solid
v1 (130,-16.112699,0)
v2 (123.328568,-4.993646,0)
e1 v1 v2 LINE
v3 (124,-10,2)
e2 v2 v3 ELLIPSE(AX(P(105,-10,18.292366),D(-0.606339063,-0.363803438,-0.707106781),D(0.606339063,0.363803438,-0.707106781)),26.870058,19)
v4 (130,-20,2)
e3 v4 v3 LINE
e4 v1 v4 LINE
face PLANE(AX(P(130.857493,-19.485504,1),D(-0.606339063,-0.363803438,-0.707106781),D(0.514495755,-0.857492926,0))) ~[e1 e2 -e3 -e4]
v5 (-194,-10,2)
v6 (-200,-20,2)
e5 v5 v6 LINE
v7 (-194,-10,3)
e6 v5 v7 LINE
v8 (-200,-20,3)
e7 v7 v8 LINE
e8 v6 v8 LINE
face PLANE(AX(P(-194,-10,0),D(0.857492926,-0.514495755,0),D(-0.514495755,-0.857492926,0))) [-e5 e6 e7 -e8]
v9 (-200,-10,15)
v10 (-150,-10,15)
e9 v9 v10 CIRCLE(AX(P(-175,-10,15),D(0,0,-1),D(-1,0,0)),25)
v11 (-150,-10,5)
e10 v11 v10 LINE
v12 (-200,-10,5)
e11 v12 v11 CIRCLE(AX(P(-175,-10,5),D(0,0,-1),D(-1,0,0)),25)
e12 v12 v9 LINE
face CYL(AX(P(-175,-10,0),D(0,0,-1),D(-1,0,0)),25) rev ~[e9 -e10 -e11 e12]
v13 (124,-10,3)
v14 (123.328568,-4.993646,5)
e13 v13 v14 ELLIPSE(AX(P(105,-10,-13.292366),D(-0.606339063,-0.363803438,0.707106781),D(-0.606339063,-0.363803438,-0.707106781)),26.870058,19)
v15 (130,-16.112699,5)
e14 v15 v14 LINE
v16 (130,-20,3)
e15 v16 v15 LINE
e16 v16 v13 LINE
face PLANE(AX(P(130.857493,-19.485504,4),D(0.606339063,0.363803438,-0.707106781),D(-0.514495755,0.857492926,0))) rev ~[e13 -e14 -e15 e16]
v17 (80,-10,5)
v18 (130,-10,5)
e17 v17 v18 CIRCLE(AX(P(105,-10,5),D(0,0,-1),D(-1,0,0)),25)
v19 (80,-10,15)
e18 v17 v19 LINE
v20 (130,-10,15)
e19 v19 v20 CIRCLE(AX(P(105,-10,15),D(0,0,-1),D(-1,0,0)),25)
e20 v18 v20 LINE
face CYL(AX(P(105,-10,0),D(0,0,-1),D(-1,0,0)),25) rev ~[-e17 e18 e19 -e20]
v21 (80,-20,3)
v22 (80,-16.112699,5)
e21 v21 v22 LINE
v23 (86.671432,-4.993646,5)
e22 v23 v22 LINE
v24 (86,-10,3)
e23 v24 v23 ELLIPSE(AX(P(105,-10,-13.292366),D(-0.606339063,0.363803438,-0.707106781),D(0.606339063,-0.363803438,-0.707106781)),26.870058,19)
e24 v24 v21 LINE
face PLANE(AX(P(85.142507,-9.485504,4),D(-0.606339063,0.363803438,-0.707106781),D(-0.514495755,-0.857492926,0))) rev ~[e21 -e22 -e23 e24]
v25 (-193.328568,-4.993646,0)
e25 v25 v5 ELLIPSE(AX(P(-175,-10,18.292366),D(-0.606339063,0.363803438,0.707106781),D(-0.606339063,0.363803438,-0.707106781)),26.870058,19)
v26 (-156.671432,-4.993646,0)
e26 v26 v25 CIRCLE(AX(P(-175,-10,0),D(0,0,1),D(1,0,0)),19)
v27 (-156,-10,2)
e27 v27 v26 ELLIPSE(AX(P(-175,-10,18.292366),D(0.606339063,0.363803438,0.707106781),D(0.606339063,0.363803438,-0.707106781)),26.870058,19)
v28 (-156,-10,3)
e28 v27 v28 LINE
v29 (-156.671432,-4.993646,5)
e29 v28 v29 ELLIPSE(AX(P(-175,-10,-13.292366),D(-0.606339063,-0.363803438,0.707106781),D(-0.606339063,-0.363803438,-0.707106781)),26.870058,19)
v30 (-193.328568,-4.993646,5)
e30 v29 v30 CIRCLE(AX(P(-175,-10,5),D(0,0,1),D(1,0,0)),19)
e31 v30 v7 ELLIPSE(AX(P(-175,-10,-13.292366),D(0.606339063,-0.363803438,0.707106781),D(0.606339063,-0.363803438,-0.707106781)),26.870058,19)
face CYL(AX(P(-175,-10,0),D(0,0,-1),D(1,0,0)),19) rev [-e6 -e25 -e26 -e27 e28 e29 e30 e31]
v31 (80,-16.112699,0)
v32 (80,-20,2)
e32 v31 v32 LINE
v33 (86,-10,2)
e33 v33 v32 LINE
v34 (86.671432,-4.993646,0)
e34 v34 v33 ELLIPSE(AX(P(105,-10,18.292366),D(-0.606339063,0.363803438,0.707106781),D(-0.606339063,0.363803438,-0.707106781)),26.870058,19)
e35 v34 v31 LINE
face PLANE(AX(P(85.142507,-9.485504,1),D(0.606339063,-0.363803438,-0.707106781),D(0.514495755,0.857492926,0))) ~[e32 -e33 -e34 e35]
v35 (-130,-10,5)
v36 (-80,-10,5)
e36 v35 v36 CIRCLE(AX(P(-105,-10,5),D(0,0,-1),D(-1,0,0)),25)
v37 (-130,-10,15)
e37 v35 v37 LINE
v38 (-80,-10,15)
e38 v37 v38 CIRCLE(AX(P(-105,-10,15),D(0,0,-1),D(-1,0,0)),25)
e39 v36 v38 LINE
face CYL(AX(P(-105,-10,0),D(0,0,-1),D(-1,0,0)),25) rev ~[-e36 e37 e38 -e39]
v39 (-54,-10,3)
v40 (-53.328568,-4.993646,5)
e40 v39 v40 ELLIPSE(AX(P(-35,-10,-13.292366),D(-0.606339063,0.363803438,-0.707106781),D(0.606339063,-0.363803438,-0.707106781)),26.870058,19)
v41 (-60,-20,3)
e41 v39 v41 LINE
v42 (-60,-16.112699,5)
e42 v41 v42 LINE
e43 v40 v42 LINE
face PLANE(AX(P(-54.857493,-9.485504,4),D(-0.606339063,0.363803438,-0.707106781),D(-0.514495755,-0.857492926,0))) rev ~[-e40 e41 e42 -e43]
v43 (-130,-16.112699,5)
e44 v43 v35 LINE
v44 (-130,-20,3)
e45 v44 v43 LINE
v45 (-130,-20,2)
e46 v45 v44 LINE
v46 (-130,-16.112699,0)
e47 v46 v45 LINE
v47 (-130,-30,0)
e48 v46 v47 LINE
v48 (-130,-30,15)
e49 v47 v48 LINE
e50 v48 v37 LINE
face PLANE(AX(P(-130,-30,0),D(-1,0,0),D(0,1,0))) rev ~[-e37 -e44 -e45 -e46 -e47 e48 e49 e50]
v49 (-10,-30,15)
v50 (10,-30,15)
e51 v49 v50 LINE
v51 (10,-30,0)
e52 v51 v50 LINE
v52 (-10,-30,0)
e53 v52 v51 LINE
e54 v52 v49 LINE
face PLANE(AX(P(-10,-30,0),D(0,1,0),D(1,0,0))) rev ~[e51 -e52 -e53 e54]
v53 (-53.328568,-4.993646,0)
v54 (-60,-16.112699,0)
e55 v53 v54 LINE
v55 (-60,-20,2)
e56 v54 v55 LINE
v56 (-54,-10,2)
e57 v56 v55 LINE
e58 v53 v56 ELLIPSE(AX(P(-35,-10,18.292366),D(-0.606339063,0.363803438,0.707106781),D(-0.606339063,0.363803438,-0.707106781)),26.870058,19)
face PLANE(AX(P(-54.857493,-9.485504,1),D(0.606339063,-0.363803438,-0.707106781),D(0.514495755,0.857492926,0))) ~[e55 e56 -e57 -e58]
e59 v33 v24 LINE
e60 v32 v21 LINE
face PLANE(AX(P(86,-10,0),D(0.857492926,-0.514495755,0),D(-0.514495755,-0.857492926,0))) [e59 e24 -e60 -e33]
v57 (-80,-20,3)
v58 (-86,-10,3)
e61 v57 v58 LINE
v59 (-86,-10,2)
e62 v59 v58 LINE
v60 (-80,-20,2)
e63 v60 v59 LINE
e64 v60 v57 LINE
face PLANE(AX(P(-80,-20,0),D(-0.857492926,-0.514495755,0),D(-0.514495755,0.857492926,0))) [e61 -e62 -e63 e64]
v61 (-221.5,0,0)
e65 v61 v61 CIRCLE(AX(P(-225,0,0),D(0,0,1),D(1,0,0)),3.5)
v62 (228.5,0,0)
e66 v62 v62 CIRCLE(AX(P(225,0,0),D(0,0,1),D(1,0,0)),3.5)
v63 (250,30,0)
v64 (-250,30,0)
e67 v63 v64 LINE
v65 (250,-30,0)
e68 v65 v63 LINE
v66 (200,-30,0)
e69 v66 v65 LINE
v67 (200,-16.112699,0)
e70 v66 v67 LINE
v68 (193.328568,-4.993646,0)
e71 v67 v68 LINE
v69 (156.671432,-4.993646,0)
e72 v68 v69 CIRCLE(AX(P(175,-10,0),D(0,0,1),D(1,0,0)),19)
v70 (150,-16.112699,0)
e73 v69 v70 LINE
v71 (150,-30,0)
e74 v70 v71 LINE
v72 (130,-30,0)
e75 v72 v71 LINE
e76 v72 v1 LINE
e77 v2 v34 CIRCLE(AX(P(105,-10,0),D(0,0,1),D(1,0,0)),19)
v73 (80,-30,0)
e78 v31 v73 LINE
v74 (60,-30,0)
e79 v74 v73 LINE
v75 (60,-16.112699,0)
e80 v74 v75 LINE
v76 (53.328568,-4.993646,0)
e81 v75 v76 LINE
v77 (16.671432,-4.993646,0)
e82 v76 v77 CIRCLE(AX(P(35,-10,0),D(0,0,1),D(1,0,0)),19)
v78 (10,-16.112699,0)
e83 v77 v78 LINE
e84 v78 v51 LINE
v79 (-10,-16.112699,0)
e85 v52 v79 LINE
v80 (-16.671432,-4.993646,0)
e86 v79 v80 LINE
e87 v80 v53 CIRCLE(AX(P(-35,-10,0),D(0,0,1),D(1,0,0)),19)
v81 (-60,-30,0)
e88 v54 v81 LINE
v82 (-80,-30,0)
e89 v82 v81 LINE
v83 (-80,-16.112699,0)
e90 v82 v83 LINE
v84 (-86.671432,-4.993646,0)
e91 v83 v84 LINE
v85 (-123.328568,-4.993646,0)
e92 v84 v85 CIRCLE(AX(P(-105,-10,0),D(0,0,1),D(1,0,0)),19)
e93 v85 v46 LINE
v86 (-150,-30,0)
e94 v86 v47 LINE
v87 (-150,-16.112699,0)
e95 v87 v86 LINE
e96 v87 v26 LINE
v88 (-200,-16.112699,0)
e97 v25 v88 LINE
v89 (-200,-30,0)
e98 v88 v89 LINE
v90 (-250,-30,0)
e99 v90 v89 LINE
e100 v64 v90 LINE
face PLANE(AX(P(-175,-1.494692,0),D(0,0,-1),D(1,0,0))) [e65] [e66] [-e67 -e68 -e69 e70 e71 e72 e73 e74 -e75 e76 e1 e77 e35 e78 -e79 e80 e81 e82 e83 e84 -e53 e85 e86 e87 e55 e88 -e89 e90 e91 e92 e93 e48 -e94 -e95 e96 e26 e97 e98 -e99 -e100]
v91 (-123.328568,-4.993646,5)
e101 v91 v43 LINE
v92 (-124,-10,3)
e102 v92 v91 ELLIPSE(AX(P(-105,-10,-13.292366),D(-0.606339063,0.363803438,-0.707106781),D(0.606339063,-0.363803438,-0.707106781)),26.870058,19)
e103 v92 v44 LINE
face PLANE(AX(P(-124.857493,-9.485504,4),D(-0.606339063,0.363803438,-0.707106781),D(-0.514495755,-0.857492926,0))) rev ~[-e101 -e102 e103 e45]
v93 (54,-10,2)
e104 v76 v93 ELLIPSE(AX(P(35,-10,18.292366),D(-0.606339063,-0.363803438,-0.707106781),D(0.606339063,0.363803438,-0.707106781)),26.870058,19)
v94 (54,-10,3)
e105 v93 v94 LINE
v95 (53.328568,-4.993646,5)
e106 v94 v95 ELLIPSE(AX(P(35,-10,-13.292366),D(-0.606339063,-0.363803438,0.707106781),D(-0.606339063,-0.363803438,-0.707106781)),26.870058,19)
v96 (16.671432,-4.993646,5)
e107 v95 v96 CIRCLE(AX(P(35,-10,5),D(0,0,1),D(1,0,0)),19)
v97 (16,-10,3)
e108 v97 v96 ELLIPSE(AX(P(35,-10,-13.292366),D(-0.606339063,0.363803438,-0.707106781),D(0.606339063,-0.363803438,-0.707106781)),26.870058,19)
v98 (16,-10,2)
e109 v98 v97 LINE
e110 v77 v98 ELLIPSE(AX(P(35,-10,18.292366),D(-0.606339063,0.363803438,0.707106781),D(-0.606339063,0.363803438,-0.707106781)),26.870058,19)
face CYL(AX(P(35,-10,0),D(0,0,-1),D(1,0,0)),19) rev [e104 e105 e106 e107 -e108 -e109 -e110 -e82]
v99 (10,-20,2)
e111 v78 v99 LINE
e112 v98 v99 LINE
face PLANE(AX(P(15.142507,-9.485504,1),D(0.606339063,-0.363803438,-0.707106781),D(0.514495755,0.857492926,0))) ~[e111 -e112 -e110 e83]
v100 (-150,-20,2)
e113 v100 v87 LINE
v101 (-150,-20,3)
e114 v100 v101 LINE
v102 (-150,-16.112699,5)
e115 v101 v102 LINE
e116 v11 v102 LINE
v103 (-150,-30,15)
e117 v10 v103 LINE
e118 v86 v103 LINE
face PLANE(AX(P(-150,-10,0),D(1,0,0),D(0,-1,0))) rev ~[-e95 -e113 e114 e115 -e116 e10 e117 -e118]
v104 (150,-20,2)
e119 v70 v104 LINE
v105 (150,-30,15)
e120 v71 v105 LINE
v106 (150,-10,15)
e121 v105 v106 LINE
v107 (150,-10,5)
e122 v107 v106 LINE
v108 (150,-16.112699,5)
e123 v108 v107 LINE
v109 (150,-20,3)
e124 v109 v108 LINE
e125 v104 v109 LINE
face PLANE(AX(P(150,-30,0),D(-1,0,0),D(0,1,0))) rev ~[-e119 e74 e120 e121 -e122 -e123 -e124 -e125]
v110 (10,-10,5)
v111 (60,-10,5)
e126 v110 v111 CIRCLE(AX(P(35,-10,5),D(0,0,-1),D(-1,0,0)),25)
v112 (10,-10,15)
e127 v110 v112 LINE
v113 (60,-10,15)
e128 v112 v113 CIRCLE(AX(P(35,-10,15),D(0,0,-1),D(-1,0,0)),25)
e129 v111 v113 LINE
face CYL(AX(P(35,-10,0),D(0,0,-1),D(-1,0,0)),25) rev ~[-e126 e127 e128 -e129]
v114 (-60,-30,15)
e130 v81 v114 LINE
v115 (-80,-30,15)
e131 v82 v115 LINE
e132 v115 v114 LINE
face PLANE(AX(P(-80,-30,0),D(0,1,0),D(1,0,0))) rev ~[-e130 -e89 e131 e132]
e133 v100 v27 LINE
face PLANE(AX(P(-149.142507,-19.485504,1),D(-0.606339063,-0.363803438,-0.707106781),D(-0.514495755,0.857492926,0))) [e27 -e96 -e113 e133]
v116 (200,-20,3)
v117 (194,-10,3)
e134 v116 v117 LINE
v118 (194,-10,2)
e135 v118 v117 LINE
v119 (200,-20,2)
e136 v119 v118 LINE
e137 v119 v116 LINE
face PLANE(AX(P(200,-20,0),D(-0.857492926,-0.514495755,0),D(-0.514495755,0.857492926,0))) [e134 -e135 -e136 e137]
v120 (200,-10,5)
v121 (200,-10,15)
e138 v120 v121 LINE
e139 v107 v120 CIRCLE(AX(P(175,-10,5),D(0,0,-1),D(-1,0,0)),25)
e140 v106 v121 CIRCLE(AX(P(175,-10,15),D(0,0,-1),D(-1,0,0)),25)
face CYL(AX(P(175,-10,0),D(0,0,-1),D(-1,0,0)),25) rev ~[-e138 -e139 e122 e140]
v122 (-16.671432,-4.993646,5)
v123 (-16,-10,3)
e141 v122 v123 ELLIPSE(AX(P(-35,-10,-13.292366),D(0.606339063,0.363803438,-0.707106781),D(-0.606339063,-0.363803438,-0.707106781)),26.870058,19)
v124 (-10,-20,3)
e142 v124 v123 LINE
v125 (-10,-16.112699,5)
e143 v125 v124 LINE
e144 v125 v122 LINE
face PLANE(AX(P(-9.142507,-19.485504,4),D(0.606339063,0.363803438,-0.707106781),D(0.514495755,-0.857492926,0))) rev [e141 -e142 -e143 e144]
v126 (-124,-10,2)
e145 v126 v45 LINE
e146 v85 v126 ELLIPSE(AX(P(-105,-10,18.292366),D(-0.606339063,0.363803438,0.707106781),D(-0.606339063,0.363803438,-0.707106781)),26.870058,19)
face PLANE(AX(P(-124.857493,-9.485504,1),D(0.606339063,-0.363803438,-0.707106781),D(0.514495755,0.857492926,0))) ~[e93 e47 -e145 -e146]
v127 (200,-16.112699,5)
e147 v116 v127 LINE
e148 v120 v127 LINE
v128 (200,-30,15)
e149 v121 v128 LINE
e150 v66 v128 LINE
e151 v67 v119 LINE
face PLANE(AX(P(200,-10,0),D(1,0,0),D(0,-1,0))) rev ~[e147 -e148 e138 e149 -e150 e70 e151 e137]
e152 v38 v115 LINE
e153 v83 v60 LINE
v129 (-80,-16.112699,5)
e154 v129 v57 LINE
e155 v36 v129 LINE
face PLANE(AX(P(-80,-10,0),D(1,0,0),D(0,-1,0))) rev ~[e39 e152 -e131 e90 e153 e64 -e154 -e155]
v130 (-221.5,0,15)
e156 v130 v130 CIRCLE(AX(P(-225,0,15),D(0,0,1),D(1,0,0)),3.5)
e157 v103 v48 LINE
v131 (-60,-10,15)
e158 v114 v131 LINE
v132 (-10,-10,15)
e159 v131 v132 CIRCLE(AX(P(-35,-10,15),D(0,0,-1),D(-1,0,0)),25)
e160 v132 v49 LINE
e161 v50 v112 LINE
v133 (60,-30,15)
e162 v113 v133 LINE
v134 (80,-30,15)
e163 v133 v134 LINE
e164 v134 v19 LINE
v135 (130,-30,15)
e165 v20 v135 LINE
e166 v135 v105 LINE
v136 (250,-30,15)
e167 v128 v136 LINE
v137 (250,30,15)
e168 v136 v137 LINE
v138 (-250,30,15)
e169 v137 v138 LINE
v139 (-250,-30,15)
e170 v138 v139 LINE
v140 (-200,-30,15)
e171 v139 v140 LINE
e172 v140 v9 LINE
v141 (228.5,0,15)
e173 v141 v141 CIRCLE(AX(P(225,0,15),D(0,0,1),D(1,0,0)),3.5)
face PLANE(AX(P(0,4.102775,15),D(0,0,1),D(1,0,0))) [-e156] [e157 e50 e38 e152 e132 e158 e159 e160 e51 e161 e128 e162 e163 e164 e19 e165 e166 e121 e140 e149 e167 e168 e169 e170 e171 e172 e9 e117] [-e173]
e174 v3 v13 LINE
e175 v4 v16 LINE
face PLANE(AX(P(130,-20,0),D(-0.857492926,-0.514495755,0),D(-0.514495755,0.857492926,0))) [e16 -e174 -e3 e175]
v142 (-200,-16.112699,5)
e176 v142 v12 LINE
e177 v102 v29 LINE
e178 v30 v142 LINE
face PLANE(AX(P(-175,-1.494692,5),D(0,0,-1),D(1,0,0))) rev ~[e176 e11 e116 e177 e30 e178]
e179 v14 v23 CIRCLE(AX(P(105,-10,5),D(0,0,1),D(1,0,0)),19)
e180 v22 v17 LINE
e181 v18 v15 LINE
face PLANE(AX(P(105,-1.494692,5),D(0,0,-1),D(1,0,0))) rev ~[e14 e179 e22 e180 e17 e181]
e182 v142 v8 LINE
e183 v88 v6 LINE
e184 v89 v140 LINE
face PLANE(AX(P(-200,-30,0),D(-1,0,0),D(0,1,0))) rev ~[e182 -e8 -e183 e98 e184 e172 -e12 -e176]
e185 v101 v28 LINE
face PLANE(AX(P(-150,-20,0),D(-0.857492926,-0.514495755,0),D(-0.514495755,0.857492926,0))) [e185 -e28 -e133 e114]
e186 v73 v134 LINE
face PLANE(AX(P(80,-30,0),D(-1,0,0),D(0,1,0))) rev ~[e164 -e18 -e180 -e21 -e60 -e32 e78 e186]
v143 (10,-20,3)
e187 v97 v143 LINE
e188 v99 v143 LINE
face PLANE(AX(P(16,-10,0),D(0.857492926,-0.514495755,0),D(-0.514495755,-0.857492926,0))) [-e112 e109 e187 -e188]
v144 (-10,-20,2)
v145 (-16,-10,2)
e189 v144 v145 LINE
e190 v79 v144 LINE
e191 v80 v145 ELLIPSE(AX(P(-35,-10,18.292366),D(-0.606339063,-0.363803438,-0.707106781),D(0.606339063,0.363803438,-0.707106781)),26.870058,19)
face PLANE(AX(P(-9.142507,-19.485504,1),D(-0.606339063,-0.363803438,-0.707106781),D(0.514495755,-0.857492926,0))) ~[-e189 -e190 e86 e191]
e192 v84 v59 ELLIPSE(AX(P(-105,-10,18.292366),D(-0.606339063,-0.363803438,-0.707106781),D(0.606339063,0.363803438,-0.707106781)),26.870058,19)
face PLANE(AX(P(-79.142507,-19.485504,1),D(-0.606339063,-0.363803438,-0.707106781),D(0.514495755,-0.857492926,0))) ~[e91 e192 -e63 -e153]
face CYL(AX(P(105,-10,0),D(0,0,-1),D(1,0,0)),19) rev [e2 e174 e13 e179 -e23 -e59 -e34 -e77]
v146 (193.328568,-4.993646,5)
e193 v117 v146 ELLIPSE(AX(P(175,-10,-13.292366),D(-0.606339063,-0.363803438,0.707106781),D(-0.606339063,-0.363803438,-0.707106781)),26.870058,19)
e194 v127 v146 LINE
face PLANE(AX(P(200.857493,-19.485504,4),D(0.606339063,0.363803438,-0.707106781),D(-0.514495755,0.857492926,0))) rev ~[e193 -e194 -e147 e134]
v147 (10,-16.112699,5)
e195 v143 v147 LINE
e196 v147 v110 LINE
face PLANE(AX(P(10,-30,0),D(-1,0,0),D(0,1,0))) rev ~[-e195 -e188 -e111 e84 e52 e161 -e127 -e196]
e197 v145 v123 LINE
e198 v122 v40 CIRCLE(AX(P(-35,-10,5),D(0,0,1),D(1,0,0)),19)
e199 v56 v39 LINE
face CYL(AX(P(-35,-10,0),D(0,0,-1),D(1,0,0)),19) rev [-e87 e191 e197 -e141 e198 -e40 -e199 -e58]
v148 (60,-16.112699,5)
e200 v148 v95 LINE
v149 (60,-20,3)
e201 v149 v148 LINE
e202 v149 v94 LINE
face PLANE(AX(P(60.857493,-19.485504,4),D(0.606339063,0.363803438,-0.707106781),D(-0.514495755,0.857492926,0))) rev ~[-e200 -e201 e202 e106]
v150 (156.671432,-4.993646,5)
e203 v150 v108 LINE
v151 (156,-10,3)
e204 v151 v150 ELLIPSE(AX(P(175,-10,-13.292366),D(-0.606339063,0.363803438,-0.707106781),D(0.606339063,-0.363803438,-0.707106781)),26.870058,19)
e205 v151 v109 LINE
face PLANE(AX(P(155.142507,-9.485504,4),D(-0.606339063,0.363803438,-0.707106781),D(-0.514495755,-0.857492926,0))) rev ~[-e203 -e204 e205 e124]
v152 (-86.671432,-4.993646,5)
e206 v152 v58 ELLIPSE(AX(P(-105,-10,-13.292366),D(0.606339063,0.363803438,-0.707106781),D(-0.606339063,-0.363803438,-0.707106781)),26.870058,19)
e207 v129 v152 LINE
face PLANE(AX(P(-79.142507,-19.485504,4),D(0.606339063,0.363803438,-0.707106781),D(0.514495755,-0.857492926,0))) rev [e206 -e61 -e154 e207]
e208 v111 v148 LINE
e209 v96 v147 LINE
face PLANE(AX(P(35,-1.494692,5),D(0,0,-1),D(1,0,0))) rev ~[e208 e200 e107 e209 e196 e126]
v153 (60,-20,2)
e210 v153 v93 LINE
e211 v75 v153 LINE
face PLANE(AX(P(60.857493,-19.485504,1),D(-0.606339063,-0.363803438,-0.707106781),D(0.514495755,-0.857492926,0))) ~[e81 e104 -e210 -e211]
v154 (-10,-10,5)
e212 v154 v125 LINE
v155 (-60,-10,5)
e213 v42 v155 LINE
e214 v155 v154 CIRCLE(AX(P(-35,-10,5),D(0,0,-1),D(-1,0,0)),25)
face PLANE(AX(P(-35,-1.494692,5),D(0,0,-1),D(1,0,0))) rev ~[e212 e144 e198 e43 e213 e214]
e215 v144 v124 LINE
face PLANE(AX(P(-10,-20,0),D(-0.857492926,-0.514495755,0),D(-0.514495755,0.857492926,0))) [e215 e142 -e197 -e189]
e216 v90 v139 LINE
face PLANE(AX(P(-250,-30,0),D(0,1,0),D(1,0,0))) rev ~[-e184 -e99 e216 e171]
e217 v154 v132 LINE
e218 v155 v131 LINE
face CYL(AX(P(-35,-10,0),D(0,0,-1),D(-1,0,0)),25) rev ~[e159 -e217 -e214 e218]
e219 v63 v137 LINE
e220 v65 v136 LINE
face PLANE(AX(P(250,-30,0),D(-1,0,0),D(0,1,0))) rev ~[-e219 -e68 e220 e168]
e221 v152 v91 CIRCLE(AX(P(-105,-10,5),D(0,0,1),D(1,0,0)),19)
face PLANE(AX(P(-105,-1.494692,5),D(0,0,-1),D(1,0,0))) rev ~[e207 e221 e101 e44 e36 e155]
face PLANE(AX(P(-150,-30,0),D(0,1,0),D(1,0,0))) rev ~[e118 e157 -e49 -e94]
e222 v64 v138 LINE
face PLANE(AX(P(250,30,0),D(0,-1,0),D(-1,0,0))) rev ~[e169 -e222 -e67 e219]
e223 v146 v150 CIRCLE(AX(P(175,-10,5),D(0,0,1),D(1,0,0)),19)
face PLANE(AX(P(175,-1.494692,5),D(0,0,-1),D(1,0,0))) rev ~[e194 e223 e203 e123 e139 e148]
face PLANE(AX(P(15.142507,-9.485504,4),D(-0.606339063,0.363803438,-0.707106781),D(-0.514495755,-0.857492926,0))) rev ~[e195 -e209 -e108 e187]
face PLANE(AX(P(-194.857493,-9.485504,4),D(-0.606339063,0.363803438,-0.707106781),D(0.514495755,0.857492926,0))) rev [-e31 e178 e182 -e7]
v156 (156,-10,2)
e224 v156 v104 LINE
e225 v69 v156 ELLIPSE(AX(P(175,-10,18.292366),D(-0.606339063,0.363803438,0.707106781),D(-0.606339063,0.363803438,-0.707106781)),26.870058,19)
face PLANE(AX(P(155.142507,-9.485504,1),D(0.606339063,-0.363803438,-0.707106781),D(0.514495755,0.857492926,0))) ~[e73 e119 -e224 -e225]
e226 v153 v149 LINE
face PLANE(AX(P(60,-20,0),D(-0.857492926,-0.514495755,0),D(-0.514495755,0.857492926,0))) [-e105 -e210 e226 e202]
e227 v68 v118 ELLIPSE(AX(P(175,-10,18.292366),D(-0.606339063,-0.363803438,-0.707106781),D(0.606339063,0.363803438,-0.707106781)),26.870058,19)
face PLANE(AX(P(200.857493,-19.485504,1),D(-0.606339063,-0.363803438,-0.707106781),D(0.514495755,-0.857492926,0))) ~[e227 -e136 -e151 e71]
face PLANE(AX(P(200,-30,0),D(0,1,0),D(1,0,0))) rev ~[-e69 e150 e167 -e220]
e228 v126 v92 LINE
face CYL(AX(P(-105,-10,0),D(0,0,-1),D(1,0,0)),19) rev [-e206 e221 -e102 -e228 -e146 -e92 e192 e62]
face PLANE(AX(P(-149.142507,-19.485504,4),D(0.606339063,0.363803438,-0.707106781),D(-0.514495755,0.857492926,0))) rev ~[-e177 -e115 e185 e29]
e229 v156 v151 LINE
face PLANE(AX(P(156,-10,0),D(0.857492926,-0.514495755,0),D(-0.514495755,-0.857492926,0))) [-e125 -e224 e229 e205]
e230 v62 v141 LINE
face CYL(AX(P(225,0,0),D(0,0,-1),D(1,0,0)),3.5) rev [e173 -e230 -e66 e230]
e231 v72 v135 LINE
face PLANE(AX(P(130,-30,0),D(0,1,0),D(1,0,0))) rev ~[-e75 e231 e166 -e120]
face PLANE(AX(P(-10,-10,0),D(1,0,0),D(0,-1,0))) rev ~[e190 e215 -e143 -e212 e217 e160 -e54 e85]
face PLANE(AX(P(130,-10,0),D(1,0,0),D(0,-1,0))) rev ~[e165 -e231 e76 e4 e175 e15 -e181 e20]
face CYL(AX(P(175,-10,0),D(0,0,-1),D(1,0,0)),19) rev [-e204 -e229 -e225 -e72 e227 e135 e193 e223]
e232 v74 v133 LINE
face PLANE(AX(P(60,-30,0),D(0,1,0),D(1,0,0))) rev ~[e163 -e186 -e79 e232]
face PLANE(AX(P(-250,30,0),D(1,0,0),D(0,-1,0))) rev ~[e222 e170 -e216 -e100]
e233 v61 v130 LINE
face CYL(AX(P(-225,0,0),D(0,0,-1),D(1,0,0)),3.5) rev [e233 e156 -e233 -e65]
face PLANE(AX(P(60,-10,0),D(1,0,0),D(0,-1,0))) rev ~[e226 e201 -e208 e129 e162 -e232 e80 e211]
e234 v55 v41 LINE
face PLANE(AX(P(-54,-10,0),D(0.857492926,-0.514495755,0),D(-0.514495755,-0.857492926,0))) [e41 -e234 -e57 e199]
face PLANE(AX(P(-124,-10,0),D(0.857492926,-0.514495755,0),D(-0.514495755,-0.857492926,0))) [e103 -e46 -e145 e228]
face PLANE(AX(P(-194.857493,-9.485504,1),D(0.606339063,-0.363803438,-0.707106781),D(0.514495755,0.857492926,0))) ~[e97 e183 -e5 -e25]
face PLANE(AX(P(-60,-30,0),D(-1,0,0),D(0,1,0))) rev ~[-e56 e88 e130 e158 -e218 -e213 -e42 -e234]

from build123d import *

# Parameters (mm, degrees)
F0_R     = 3.5
F1_DEPTH = 15
F3_DEPTH = 5
F4_SIZE  = 2


with BuildPart() as f1:
    # F0 (on Top) → F1 (new body)
    with BuildSketch(Plane.XY):
        with BuildLine():
            Line((-250, 30), (-250, -30))
            Line((-250, -30), (-200, -30))
            Line((-200, -30), (-200, -10))
            ThreePointArc((-200, -10), (-175, 15), (-150, -10))
            Line((-150, -10), (-150, -30))
            Line((-150, -30), (-130, -30))
            Line((-130, -30), (-130, -10))
            ThreePointArc((-130, -10), (-105, 15), (-80, -10))
            Line((-80, -10), (-80, -30))
            Line((-80, -30), (-60, -30))
            Line((-60, -30), (-60, -10))
            ThreePointArc((-60, -10), (-35, 15), (-10, -10))
            Line((-10, -10), (-10, -30))
            Line((-10, -30), (10, -30))
            Line((10, -30), (10, -10))
            ThreePointArc((10, -10), (35, 15), (60, -10))
            Line((60, -10), (60, -30))
            Line((60, -30), (80, -30))
            Line((80, -30), (80, -10))
            ThreePointArc((80, -10), (105, 15), (130, -10))
            Line((130, -10), (130, -30))
            Line((130, -30), (150, -30))
            Line((150, -30), (150, -10))
            ThreePointArc((150, -10), (175, 15), (200, -10))
            Line((200, -10), (200, -30))
            Line((200, -30), (250, -30))
            Line((250, -30), (250, 30))
            Line((250, 30), (-250, 30))
        make_face()
        with Locations((-225, 0)):
            Circle(F0_R, mode=Mode.SUBTRACT)
        with Locations((225, 0)):
            Circle(F0_R, mode=Mode.SUBTRACT)
    extrude(amount=F1_DEPTH)

    # F2 (on face) → F3 (join)
    with BuildSketch(Plane(origin=(0, 0, 0), x_dir=(1, 0, 0), z_dir=(0, 0, -1))):
        with BuildLine():
            Line((-200, 20), (-200, 10))
            ThreePointArc((-200, 10), (-175, -15), (-150, 10))
            Line((-150, 10), (-150, 20))
            Line((-150, 20), (-156, 10))
            ThreePointArc((-156, 10), (-175, -9), (-194, 10))
            Line((-194, 10), (-200, 20))
        make_face()
        with BuildLine():
            ThreePointArc((-86, 10), (-105, -9), (-124, 10))
            Line((-124, 10), (-130, 20))
            Line((-130, 20), (-130, 10))
            ThreePointArc((-130, 10), (-105, -15), (-80, 10))
            Line((-80, 10), (-80, 20))
            Line((-80, 20), (-86, 10))
        make_face()
        with BuildLine():
            ThreePointArc((-16, 10), (-35, -9), (-54, 10))
            Line((-54, 10), (-60, 20))
            Line((-60, 20), (-60, 10))
            ThreePointArc((-60, 10), (-35, -15), (-10, 10))
            Line((-10, 10), (-10, 20))
            Line((-10, 20), (-16, 10))
        make_face()
        with BuildLine():
            ThreePointArc((54, 10), (35, -9), (16, 10))
            Line((16, 10), (10, 20))
            Line((10, 20), (10, 10))
            ThreePointArc((10, 10), (35, -15), (60, 10))
            Line((60, 10), (60, 20))
            Line((60, 20), (54, 10))
        make_face()
        with BuildLine():
            ThreePointArc((124, 10), (105, -9), (86, 10))
            Line((86, 10), (80, 20))
            Line((80, 20), (80, 10))
            ThreePointArc((80, 10), (105, -15), (130, 10))
            Line((130, 10), (130, 20))
            Line((130, 20), (124, 10))
        make_face()
        with BuildLine():
            ThreePointArc((194, 10), (175, -9), (156, 10))
            Line((156, 10), (150, 20))
            Line((150, 20), (150, 10))
            ThreePointArc((150, 10), (175, -15), (200, 10))
            Line((200, 10), (200, 20))
            Line((200, 20), (194, 10))
        make_face()
    extrude(amount=-F3_DEPTH)

    # F4
    f4_edges = [f1.edges().sort_by_distance(p)[0] for p in [
        (-197, -15, 5),
        (-197, -15, 0),
        (-57, -15, 0),
        (-57, -15, 5),
        (-127, -15, 5),
        (-127, -15, 0),
        (-153, -15, 5),
        (-153, -15, 0),
        (-83, -15, 5),
        (-83, -15, 0),
        (-13, -15, 0),
        (-13, -15, 5),
        (57, -15, 5),
        (57, -15, 0),
        (127, -15, 5),
        (127, -15, 0),
        (197, -15, 5),
        (197, -15, 0),
        (13, -15, 5),
        (13, -15, 0),
        (83, -15, 5),
        (83, -15, 0),
        (153, -15, 5),
        (153, -15, 0),
    ]]
    chamfer(f4_edges, length=F4_SIZE)


solid = f1.part
